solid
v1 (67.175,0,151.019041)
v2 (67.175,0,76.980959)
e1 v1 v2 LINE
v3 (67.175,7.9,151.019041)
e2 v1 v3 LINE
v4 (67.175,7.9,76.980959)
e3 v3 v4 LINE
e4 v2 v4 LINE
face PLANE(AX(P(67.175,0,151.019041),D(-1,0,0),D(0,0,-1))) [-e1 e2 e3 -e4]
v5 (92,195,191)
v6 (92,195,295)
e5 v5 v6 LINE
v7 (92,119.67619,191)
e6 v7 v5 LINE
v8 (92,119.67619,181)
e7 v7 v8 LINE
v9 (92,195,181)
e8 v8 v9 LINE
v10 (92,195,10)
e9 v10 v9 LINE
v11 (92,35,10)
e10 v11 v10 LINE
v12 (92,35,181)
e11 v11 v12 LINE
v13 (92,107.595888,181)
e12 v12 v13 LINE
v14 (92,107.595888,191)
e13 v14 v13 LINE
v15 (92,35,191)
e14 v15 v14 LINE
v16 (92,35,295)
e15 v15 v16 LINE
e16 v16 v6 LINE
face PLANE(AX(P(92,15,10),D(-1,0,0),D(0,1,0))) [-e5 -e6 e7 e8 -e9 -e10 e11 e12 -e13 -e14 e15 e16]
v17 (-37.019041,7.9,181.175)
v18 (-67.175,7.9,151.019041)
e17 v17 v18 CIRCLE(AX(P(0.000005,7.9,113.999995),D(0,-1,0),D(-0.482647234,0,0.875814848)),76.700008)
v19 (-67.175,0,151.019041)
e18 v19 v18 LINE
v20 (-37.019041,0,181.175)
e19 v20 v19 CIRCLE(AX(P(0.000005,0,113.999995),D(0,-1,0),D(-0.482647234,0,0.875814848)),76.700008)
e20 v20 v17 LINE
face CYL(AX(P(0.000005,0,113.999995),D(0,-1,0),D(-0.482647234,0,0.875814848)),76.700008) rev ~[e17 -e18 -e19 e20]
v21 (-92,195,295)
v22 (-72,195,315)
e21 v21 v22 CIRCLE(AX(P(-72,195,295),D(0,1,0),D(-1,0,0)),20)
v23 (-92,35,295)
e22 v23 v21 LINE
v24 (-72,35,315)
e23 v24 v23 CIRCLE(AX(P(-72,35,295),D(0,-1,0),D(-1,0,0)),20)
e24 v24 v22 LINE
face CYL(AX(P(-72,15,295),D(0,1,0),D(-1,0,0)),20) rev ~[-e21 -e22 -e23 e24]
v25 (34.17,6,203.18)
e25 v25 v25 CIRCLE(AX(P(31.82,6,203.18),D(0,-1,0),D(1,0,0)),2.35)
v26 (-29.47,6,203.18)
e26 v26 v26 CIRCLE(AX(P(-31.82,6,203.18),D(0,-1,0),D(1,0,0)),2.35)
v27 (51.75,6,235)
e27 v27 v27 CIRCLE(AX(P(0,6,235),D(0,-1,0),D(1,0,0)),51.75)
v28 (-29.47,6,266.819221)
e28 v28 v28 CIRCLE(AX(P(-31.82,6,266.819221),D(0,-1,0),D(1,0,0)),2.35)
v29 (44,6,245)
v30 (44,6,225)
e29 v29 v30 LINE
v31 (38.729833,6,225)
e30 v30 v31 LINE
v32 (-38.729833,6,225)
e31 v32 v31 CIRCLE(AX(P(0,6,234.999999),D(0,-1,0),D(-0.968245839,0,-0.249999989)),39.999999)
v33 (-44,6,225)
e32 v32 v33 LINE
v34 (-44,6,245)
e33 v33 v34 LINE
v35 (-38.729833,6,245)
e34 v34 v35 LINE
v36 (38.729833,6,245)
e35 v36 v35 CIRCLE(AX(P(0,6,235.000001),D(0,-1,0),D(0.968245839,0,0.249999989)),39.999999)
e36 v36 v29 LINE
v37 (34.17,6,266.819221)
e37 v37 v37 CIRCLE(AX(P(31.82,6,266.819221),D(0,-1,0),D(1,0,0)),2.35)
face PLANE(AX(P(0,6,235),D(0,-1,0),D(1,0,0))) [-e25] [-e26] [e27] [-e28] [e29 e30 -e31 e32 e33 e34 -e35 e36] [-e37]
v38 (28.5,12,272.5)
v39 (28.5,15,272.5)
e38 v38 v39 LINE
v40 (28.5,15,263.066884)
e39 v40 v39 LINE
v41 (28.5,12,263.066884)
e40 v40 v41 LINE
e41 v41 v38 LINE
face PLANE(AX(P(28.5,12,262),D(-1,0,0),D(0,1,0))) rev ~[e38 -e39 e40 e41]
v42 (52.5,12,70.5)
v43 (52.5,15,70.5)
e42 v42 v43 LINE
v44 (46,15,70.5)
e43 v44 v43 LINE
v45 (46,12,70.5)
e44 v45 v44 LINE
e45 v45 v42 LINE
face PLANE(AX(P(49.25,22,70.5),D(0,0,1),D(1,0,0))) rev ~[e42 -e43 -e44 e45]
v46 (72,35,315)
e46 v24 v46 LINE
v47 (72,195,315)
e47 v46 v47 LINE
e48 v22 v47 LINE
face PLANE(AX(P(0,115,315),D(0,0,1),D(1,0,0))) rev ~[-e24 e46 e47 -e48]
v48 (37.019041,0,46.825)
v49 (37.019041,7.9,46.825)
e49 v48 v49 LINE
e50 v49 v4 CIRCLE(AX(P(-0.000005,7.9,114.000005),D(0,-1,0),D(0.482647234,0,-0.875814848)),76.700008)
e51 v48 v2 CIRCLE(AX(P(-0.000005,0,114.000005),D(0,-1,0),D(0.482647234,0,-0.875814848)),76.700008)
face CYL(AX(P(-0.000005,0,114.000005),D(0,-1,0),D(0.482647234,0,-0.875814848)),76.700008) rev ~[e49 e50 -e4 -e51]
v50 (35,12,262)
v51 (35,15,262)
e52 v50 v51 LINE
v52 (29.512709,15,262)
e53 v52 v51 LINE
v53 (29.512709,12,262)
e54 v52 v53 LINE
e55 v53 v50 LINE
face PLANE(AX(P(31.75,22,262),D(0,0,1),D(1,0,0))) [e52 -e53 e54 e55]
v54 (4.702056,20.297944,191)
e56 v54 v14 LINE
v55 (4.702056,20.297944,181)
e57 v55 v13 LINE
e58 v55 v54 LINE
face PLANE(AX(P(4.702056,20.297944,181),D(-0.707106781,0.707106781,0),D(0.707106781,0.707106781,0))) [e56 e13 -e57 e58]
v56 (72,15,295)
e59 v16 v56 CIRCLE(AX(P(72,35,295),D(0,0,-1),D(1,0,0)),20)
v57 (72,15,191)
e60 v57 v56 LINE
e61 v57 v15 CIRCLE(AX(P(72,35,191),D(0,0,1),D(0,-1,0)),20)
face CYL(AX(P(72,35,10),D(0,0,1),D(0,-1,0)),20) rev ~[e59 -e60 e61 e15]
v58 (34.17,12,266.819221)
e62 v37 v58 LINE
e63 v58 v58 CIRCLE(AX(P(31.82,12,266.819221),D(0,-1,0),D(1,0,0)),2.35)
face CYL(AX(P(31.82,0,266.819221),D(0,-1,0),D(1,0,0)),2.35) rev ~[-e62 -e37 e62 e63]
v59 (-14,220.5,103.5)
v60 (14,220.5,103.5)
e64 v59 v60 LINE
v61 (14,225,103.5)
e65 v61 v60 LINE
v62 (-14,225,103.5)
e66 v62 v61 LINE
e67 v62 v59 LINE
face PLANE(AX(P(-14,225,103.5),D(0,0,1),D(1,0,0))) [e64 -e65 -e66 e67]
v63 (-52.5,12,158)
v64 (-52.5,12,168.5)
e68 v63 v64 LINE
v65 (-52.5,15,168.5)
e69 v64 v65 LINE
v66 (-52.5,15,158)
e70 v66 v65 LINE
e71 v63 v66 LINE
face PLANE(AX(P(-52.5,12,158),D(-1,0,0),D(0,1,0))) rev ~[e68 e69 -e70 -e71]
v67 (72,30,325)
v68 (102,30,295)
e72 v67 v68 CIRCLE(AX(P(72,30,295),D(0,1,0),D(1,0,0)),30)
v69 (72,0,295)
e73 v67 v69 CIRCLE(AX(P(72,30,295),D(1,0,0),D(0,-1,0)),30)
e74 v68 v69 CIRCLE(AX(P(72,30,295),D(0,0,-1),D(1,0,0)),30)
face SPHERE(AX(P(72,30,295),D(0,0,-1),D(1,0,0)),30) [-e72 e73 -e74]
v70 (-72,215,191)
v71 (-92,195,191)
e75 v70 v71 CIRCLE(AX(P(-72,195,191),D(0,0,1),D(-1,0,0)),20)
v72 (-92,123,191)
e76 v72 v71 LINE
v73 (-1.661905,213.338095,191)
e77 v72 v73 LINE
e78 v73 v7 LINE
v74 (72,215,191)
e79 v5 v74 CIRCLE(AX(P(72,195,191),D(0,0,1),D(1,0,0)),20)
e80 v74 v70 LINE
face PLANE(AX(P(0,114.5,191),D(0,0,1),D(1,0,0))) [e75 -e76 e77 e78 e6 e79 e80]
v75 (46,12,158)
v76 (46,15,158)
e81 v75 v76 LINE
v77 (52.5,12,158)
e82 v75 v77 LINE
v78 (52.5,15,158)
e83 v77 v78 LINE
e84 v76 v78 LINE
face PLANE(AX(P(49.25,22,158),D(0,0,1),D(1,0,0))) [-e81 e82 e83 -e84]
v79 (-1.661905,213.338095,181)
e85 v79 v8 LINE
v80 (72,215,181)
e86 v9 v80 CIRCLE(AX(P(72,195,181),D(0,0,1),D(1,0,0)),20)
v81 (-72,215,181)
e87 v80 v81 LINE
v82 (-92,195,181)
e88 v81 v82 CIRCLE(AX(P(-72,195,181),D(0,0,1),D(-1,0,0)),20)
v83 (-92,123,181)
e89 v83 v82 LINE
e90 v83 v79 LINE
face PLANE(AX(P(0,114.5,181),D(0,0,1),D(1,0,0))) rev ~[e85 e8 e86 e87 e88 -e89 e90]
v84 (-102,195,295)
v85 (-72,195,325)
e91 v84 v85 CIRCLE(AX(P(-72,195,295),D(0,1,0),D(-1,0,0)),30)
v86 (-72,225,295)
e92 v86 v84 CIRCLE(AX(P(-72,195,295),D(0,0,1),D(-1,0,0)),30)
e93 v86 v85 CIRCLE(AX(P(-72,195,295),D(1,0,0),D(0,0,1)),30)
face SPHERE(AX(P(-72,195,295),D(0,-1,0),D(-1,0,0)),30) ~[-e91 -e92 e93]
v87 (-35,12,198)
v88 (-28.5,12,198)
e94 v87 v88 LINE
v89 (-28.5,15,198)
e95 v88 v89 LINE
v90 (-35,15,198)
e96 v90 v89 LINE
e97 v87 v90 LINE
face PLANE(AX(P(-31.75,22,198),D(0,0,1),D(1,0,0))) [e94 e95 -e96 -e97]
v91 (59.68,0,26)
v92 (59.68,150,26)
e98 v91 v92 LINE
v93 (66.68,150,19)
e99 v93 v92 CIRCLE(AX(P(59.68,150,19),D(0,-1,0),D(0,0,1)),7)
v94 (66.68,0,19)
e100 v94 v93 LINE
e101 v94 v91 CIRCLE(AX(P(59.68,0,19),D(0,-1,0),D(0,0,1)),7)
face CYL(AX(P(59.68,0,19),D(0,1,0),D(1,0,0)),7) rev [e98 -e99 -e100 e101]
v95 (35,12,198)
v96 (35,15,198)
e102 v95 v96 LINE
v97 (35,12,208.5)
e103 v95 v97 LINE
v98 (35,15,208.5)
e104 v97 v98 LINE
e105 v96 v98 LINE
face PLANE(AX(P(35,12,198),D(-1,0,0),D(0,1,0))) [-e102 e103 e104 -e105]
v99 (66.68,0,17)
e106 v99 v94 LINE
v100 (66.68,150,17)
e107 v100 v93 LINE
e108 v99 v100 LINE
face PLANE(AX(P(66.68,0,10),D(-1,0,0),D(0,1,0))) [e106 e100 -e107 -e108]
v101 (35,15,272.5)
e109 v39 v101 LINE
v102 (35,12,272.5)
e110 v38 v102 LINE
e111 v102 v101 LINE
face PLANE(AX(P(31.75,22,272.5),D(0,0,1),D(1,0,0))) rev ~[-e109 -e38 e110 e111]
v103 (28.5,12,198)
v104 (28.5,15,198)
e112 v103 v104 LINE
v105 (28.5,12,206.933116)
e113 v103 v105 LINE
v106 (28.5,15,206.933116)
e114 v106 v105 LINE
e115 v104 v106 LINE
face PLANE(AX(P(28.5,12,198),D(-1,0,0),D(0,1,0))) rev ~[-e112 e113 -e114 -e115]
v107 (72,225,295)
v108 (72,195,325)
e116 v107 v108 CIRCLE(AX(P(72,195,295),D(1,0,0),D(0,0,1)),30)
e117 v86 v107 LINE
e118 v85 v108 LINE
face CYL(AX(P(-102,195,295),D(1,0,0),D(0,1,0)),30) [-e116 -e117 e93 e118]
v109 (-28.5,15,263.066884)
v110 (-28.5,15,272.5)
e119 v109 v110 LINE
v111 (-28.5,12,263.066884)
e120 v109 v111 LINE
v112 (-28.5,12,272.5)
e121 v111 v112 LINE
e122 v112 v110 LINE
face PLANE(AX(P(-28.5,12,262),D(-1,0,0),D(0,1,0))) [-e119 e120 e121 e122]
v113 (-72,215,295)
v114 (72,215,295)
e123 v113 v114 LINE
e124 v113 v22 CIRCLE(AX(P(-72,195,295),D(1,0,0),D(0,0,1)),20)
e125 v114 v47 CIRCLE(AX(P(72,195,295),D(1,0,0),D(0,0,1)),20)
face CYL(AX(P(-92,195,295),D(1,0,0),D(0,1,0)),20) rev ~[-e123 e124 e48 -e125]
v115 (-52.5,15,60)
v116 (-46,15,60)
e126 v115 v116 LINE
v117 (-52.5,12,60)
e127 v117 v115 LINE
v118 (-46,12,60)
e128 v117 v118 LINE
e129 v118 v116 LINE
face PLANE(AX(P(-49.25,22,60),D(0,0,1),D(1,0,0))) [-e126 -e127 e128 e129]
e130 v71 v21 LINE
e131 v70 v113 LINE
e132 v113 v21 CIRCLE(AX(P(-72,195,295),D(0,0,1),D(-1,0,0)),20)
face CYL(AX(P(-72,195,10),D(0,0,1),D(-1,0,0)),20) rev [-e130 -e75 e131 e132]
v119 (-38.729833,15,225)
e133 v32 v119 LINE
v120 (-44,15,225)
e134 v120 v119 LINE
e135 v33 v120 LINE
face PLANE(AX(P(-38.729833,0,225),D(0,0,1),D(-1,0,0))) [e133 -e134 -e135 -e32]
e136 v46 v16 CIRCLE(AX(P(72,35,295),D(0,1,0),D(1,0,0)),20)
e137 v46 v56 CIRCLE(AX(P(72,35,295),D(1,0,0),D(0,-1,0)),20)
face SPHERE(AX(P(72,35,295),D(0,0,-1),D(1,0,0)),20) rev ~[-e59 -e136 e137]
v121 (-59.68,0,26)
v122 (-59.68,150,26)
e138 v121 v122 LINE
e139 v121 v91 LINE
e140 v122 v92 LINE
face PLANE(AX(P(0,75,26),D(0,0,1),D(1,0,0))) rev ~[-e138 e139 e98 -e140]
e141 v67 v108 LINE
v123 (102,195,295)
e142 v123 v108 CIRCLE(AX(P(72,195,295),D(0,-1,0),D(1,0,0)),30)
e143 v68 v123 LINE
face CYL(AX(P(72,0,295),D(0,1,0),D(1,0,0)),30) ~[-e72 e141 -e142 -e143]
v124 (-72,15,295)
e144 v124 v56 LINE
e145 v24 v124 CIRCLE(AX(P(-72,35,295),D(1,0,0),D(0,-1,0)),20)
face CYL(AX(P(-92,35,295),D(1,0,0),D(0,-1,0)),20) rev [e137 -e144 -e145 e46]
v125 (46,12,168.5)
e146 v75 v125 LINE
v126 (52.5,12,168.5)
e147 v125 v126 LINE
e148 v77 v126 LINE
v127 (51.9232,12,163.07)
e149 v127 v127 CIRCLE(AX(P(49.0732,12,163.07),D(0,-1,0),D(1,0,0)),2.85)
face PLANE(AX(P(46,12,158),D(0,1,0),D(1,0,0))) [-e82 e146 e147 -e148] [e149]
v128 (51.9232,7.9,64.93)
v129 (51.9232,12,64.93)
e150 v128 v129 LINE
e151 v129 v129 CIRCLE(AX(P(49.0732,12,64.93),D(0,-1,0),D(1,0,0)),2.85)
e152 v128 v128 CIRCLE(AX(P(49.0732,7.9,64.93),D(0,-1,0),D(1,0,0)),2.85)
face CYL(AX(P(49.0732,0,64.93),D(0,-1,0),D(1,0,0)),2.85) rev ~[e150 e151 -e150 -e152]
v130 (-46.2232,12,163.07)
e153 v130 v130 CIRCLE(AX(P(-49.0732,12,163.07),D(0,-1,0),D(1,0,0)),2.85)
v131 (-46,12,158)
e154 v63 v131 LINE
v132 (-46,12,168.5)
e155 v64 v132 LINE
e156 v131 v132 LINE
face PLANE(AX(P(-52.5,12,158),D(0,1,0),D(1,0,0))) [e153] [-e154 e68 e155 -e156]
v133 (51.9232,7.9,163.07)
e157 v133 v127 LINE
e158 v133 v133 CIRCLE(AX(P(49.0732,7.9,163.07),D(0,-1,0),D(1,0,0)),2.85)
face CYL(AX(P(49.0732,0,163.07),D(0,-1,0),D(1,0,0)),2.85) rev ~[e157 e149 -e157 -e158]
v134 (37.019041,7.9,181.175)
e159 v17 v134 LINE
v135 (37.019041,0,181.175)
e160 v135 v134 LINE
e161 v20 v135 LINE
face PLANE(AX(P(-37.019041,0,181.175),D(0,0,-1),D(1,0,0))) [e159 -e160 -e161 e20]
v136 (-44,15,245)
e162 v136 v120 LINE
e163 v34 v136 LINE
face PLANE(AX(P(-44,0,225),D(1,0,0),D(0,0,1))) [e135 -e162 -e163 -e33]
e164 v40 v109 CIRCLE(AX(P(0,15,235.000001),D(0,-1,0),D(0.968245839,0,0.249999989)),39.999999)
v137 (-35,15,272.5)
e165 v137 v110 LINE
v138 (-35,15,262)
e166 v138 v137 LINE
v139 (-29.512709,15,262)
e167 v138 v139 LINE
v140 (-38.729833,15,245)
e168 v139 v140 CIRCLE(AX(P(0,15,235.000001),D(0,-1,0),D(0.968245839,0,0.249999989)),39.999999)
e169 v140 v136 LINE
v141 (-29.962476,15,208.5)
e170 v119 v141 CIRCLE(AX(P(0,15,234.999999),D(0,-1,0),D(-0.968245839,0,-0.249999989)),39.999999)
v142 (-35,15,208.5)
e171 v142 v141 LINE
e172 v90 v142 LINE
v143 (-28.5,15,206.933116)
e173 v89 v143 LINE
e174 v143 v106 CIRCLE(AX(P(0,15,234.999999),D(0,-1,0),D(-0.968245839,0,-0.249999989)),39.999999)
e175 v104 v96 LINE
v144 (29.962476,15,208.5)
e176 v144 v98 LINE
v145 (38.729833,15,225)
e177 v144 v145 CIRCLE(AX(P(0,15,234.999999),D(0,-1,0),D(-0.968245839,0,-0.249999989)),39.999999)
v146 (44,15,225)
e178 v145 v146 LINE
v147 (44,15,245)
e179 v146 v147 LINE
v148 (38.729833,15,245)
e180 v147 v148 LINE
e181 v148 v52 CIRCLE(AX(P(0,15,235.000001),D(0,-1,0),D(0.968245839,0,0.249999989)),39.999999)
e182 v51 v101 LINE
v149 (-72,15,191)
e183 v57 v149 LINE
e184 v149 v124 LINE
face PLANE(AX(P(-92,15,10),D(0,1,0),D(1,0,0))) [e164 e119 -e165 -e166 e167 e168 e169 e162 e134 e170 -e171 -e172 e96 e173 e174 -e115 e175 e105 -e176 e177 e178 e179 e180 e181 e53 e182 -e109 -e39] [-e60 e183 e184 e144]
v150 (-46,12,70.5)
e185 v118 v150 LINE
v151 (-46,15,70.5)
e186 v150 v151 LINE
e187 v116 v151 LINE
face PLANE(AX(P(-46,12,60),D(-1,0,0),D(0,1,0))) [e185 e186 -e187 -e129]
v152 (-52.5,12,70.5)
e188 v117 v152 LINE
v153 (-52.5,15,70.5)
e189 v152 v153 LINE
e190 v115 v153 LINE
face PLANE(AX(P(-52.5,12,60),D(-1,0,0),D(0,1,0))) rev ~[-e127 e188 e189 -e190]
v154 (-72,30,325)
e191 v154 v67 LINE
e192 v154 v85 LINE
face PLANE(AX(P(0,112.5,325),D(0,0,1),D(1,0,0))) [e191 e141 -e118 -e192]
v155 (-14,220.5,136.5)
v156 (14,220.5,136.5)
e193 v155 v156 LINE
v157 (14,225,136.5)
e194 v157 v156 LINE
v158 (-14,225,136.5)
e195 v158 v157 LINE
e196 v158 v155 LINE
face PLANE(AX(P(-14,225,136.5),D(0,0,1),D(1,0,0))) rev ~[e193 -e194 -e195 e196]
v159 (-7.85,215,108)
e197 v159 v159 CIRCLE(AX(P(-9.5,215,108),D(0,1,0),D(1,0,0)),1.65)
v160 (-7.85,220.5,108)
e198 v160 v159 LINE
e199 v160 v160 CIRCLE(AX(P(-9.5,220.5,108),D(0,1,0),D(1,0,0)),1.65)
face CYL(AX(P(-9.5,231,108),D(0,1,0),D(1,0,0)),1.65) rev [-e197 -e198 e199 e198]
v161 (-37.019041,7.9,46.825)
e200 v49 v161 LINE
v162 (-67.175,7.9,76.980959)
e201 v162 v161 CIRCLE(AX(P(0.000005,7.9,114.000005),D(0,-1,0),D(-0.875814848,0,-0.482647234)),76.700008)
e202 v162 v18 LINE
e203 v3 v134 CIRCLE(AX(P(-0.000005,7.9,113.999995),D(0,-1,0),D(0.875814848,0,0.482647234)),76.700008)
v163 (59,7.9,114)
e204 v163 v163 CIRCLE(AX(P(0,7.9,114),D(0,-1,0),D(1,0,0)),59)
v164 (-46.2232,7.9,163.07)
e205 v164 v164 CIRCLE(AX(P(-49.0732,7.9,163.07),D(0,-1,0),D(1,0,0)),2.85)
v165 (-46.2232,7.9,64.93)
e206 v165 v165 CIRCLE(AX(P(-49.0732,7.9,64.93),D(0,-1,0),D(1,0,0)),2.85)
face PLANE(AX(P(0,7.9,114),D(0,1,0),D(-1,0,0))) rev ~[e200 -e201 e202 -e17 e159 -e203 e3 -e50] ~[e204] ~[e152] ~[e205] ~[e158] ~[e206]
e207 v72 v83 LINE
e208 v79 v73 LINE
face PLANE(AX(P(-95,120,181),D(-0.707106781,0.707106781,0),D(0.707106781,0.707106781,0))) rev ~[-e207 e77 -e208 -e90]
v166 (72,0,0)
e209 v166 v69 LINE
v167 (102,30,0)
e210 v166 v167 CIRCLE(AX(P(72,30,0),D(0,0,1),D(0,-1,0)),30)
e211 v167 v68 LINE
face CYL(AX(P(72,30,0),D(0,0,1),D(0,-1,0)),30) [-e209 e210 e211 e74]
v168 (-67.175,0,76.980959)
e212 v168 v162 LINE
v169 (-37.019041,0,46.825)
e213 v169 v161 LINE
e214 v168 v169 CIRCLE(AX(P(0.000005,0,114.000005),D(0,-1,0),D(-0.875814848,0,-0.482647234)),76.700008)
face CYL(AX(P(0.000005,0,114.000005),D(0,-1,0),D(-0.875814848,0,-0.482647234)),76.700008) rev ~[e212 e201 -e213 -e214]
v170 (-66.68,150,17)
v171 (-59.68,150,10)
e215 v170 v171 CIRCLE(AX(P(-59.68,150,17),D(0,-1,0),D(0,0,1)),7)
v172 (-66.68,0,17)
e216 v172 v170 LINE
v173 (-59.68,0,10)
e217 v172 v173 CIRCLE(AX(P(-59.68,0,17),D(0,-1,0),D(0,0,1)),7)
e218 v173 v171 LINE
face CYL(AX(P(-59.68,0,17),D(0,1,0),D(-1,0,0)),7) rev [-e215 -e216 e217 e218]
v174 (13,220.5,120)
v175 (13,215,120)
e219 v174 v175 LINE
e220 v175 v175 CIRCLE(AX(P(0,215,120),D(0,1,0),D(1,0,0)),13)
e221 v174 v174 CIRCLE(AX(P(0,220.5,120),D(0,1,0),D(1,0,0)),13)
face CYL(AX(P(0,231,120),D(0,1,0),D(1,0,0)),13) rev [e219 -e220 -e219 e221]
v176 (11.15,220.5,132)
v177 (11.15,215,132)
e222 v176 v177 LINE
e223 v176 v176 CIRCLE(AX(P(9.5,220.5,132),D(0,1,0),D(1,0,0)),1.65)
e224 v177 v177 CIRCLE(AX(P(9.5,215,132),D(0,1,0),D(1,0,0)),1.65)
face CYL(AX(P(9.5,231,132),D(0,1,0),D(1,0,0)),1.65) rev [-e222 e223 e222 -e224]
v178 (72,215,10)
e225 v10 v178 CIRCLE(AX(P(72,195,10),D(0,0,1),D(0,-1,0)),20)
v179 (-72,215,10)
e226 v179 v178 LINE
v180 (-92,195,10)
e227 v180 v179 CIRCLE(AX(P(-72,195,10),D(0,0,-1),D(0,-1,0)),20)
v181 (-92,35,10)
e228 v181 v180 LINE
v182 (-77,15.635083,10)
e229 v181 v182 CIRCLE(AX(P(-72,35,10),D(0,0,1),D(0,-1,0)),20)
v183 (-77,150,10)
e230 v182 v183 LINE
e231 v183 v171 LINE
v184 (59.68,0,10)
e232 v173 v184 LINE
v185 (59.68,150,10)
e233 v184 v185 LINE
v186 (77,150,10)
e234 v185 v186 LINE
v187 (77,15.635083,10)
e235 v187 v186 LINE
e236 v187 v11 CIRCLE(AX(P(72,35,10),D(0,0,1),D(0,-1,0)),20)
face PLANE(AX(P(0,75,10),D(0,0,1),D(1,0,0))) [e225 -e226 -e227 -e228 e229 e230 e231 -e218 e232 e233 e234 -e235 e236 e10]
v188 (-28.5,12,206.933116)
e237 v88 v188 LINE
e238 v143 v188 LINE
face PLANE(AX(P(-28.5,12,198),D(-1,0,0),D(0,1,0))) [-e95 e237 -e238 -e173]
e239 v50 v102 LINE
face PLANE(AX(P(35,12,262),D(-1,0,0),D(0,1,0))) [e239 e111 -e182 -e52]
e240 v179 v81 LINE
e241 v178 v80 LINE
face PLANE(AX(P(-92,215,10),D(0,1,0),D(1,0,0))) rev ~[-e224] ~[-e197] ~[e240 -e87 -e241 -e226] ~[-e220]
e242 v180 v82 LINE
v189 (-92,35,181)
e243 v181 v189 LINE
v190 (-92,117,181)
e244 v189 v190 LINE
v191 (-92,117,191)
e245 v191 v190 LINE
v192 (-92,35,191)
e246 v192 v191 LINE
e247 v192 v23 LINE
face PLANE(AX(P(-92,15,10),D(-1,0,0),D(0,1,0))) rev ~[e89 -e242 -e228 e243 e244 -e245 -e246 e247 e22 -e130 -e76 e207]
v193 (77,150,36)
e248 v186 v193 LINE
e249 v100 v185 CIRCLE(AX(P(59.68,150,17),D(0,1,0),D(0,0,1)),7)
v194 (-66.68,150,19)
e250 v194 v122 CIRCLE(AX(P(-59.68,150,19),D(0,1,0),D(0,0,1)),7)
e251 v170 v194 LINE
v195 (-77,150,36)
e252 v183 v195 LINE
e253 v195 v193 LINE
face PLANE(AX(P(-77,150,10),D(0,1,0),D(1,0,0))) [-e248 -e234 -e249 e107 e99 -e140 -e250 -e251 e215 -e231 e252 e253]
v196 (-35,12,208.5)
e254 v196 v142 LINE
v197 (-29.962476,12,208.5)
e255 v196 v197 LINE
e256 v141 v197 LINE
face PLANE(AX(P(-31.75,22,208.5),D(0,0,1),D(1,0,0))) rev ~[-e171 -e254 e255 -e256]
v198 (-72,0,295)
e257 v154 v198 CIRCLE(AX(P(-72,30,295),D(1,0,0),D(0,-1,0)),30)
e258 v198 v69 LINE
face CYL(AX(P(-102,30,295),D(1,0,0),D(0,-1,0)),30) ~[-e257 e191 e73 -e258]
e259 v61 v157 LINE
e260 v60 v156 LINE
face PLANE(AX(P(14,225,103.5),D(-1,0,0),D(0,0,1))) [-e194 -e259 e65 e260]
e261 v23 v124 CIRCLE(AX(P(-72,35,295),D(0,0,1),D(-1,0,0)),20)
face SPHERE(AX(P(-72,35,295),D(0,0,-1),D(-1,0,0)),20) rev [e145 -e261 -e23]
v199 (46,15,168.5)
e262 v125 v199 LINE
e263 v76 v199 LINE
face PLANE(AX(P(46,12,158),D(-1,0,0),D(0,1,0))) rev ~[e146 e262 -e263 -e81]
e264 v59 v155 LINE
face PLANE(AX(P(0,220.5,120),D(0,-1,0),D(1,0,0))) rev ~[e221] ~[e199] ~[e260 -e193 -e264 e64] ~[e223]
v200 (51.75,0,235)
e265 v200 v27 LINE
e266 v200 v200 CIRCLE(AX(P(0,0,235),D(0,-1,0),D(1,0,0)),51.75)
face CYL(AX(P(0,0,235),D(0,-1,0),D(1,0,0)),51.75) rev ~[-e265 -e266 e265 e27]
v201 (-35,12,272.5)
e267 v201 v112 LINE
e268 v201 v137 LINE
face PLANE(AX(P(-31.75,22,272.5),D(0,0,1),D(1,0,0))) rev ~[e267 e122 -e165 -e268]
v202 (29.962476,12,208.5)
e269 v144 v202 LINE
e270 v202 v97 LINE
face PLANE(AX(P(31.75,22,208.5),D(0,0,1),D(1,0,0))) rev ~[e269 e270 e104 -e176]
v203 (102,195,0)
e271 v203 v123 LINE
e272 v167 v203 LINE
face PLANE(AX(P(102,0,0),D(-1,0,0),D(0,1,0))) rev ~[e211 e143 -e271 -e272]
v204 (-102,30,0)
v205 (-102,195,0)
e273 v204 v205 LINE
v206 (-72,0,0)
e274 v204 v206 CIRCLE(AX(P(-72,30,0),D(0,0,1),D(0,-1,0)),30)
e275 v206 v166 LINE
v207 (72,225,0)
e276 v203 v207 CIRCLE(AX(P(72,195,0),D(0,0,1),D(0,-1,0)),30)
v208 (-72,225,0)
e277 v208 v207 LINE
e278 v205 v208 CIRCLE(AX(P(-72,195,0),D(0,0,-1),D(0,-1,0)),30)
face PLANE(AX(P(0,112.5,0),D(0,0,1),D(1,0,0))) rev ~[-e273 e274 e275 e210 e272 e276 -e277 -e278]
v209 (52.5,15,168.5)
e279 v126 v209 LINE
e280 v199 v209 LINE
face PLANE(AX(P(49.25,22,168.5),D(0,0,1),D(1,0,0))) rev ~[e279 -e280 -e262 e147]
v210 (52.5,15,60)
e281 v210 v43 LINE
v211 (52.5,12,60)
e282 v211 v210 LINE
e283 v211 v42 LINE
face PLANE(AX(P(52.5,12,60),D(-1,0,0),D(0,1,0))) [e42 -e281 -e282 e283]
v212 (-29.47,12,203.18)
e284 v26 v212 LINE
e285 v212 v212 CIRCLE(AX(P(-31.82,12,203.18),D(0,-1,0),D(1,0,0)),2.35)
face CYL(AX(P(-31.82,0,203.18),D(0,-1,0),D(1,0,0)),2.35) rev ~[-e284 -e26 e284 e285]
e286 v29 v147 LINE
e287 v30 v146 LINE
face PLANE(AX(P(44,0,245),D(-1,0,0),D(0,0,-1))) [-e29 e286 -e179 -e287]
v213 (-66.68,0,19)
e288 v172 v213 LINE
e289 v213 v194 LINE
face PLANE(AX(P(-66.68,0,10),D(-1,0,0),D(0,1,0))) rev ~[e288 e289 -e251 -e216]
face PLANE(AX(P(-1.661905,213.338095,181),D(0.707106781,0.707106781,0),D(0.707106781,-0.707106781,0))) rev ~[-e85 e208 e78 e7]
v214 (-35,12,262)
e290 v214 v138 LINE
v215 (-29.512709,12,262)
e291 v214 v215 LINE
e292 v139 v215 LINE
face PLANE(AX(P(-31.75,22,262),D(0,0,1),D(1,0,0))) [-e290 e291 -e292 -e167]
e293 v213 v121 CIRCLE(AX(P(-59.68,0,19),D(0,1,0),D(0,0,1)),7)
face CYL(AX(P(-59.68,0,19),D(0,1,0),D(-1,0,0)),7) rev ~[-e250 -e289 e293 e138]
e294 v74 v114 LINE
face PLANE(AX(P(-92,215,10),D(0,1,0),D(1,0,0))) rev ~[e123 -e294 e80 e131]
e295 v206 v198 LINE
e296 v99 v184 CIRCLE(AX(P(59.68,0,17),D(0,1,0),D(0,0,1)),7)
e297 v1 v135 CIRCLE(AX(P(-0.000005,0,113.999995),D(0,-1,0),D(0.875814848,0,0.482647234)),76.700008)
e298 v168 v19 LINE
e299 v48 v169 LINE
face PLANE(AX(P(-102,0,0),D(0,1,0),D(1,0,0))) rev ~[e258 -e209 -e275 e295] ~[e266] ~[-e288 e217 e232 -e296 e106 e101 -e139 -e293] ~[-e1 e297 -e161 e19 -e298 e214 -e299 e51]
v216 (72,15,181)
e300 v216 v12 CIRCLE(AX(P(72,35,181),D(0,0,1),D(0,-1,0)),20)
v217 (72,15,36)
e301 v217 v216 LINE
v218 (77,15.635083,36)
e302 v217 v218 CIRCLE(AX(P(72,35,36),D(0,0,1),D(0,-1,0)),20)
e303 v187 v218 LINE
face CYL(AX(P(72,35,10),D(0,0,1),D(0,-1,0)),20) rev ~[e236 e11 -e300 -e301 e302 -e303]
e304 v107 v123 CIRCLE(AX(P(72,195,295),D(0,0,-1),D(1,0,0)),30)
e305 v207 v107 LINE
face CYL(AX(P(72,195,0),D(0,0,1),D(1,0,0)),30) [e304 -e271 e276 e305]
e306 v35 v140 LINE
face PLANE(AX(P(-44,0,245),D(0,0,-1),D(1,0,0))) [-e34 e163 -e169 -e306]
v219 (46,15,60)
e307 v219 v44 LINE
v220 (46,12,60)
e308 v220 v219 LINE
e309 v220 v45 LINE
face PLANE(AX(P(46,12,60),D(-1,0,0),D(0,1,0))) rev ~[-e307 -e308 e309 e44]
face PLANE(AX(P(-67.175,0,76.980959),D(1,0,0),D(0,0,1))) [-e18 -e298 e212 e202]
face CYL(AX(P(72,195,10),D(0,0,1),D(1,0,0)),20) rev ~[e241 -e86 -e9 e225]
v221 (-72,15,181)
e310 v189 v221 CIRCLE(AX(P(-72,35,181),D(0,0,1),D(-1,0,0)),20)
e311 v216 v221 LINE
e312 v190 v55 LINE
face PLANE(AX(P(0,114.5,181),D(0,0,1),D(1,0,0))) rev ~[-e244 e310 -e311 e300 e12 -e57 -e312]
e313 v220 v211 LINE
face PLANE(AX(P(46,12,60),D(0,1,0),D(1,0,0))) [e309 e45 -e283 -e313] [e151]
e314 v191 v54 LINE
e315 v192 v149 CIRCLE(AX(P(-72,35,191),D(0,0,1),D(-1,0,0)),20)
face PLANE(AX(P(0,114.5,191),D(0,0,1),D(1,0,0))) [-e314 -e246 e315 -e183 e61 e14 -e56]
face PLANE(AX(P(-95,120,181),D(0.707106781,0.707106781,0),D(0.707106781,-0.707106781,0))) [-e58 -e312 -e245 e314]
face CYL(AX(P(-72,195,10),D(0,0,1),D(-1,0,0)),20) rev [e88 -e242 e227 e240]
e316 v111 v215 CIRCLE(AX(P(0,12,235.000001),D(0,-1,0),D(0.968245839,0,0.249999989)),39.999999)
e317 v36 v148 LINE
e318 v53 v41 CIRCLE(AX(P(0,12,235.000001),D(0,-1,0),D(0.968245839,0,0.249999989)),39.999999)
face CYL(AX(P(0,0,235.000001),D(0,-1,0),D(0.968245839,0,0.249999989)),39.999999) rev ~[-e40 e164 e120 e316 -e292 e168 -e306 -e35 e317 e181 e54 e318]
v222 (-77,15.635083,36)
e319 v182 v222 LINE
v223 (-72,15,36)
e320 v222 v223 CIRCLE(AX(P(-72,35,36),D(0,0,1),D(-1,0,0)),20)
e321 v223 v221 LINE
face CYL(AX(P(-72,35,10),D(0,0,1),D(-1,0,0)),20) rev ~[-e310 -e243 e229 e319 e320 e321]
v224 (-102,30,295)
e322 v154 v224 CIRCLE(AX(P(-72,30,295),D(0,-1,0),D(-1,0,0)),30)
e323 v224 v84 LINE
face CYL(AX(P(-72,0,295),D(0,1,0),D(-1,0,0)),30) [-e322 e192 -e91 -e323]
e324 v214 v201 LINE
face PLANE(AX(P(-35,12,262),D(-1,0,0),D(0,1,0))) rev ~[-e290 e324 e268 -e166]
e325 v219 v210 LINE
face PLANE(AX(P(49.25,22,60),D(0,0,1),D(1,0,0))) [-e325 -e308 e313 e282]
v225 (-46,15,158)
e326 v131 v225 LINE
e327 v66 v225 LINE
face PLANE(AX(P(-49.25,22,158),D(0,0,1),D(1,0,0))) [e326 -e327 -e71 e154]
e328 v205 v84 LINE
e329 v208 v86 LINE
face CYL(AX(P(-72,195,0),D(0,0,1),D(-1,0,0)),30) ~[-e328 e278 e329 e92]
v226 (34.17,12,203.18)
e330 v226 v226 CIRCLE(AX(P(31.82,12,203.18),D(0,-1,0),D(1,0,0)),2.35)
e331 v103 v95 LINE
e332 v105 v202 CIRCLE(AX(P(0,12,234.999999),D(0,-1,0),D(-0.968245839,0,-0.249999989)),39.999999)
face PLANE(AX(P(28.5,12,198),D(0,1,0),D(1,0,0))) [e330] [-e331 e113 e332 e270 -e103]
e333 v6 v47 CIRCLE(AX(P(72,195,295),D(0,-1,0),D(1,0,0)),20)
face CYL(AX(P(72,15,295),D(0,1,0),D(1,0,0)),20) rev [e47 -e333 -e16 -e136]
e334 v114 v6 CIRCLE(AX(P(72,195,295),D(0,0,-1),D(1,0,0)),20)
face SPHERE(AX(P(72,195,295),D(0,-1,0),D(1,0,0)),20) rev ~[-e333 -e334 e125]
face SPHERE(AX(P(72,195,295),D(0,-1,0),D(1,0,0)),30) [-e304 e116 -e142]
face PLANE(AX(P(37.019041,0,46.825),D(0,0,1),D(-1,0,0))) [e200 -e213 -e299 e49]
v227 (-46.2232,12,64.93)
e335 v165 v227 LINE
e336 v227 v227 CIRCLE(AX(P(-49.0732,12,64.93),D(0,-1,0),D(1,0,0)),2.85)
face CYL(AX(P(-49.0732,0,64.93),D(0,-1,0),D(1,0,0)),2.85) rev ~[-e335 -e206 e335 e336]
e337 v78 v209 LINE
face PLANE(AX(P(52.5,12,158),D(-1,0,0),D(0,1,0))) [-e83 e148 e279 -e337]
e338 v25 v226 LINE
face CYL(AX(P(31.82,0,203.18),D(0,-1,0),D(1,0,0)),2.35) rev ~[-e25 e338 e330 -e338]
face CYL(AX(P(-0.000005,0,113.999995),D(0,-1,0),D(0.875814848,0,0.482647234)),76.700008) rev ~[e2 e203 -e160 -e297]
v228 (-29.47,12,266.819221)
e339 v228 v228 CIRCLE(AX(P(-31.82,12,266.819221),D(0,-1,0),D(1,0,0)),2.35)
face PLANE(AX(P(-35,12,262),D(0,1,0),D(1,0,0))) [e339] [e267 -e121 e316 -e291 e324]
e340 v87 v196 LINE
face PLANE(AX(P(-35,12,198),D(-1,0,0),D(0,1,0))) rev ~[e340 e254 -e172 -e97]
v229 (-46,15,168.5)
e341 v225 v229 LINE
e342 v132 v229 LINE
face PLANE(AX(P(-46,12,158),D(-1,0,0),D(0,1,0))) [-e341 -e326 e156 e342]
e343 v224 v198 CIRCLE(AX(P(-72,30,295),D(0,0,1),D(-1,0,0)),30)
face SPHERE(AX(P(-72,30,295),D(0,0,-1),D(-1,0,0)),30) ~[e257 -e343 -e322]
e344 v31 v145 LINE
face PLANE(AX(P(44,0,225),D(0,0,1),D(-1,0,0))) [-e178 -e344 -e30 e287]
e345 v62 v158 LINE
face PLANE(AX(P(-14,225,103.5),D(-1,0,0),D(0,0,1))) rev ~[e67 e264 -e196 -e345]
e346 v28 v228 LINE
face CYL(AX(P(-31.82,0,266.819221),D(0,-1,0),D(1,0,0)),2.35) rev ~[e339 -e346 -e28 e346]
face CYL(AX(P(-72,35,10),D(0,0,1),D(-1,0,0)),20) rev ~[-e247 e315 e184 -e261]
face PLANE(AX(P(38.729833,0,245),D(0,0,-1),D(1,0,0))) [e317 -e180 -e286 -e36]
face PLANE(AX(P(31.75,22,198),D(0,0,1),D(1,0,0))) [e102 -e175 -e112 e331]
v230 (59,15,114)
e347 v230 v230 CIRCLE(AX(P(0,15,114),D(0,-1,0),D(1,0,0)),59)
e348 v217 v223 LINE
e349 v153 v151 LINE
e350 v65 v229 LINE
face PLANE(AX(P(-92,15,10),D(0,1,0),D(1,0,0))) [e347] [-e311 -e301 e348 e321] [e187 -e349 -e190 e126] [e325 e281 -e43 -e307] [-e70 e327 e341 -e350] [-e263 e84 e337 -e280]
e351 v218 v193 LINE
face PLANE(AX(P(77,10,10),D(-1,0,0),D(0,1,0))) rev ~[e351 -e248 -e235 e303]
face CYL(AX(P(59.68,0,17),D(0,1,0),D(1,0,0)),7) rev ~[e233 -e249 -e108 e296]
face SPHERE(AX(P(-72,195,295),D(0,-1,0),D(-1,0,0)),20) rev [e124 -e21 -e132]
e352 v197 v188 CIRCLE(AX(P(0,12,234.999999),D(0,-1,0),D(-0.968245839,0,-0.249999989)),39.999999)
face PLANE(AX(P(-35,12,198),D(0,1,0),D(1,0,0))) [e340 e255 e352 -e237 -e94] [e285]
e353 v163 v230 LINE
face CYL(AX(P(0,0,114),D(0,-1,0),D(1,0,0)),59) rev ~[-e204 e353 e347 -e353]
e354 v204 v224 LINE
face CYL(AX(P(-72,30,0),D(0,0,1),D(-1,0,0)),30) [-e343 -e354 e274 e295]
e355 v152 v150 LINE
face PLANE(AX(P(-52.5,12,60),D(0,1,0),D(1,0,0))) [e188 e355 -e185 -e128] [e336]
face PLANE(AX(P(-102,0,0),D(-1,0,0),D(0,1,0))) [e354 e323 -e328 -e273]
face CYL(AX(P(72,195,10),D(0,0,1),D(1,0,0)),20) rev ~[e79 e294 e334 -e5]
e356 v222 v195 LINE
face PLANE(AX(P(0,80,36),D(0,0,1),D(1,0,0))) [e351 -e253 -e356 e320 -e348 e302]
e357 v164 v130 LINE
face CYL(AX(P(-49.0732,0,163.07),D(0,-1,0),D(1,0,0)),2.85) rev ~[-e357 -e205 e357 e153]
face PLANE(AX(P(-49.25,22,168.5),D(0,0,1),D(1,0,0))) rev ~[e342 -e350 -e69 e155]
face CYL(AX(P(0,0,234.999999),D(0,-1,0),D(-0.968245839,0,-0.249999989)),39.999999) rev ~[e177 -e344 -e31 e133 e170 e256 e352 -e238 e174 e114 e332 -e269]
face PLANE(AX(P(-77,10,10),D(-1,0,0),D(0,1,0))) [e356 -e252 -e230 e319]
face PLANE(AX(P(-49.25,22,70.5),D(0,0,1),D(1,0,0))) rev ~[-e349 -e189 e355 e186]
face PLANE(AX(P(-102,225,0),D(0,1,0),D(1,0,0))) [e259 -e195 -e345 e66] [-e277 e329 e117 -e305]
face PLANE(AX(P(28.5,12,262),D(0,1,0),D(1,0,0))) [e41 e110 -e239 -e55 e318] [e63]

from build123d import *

# Parameters (mm, degrees)
BOX008_W               = 6.5
BOX008_H               = 20
BOX008_DEPTH           = 10.5
BOX007_W               = 6.5
BOX007_H               = 20
BOX007_DEPTH           = 10.5
BOX009_W               = 6.5
BOX009_H               = 20
BOX009_DEPTH           = 10.5
BOX010_W               = 6.5
BOX010_H               = 20
BOX010_DEPTH           = 10.5
BOX011_W               = 6.5
BOX011_H               = 20
BOX011_DEPTH           = 10.5
BOX013_W               = 6.5
BOX013_H               = 20
BOX013_DEPTH           = 10.5
BOX012_W               = 6.5
BOX012_H               = 20
BOX012_DEPTH           = 10.5
BOX006_W               = 6.5
BOX006_H               = 20
BOX006_DEPTH           = 10.5
SKETCH008_W            = 28
SKETCH008_H            = 33
EXTRUDE001_DEPTH       = 4.5
SKETCH007_R            = 13
SKETCH007_R_2          = 1.65
EXTRUDE_DEPTH          = 40
BOX002_W               = 133.36
BOX002_H               = 150
BOX002_DEPTH           = 16
FILLET002_R            = 7
BOX003_W               = 154
BOX003_H               = 140
BOX003_DEPTH           = 26
SKETCH004_R            = 51.75
PAD003_DEPTH           = 6
PAD004_DEPTH           = 35
SKETCH006_R            = 2.35
PAD005_DEPTH           = 35
PAD_DEPTH              = 7.9
SKETCH002_R            = 59
PAD001_DEPTH           = 25
SKETCH003_R            = 2.85
PAD002_DEPTH           = 34
BOX_W                  = 184
BOX_H                  = 200
BOX_DEPTH              = 305
FILLET_R               = 20
BOX001_W               = 204
BOX001_H               = 225
BOX001_DEPTH           = 325
FILLET001_R            = 30
BOX004_W               = 141
BOX004_H               = 132
BOX004_DEPTH           = 10
BOX004_PLACEMENT_ANGLE = 45
BOX005_W               = 184
BOX005_H               = 203
BOX005_DEPTH           = 10


with BuildPart() as cubo006:
    # Box008 → Box008 (new body)
    with BuildSketch(Plane(origin=(-52.5, 0, 60), x_dir=(1, 0, 0), z_dir=(0, 0, 1))):
        with Locations((3.25, 10)):
            Rectangle(BOX008_W, BOX008_H)
    extrude(amount=BOX008_DEPTH)


with BuildPart() as cubo005:
    # Box007 → Box007 (new body)
    with BuildSketch(Plane(origin=(46, 0, 158), x_dir=(1, 0, 0), z_dir=(0, 0, 1))):
        with Locations((3.25, 10)):
            Rectangle(BOX007_W, BOX007_H)
    extrude(amount=BOX007_DEPTH)


with BuildPart() as cubo007:
    # Box009 → Box009 (new body)
    with BuildSketch(Plane(origin=(-52.5, 0, 158), x_dir=(1, 0, 0), z_dir=(0, 0, 1))):
        with Locations((3.25, 10)):
            Rectangle(BOX009_W, BOX009_H)
    extrude(amount=BOX009_DEPTH)


with BuildPart() as cubo008:
    # Box010 → Box010 (new body)
    with BuildSketch(Plane(origin=(28.5, 0, 198), x_dir=(1, 0, 0), z_dir=(0, 0, 1))):
        with Locations((3.25, 10)):
            Rectangle(BOX010_W, BOX010_H)
    extrude(amount=BOX010_DEPTH)


with BuildPart() as cubo009:
    # Box011 → Box011 (new body)
    with BuildSketch(Plane(origin=(28.5, 0, 262), x_dir=(1, 0, 0), z_dir=(0, 0, 1))):
        with Locations((3.25, 10)):
            Rectangle(BOX011_W, BOX011_H)
    extrude(amount=BOX011_DEPTH)


with BuildPart() as cubo011:
    # Box013 → Box013 (new body)
    with BuildSketch(Plane(origin=(-35, 0, 198), x_dir=(1, 0, 0), z_dir=(0, 0, 1))):
        with Locations((3.25, 10)):
            Rectangle(BOX013_W, BOX013_H)
    extrude(amount=BOX013_DEPTH)


with BuildPart() as cubo010:
    # Box012 → Box012 (new body)
    with BuildSketch(Plane(origin=(-35, 0, 262), x_dir=(1, 0, 0), z_dir=(0, 0, 1))):
        with Locations((3.25, 10)):
            Rectangle(BOX012_W, BOX012_H)
    extrude(amount=BOX012_DEPTH)


with BuildPart() as tuercas:
    # Box006 → Box006 (new body)
    with BuildSketch(Plane(origin=(46, 0, 60), x_dir=(1, 0, 0), z_dir=(0, 0, 1))):
        with Locations((3.25, 10)):
            Rectangle(BOX006_W, BOX006_H)
    extrude(amount=BOX006_DEPTH)

    # Fusion003: union Cubo006, Cubo005, Cubo007, Cubo008, Cubo009, Cubo011, Cubo010
    add(cubo006.part)
    add(cubo005.part)
    add(cubo007.part)
    add(cubo008.part)
    add(cubo009.part)
    add(cubo011.part)
    add(cubo010.part)


with BuildPart() as tuercas_1:
    # Fusion003 placement: moved
    add(tuercas.part.moved(Location((0, 12, 0))))


with BuildPart() as extrude001:
    # Sketch008 → Extrude001 (new body)
    with BuildSketch(Plane.XZ):
        with Locations((0, 120)):
            Rectangle(SKETCH008_W, SKETCH008_H)
    extrude(amount=EXTRUDE001_DEPTH)


with BuildPart() as extrude001_1:
    # Extrude001 placement: moved
    add(extrude001.part.moved(Location((0, 220, 0))))


with BuildPart() as conector:
    # Sketch007 → Extrude (new body)
    with BuildSketch(Plane.XZ):
        with Locations((0, 120)):
            Circle(SKETCH007_R)
        with Locations((9.5, 132)):
            Circle(SKETCH007_R_2)
        with Locations((-9.5, 108)):
            Circle(SKETCH007_R_2)
    extrude(amount=EXTRUDE_DEPTH)


with BuildPart() as conector_1:
    # Extrude placement: moved
    add(conector.part.moved(Location((0, 226, 0))))

    # Fusion: union Extrude001
    add(extrude001_1.part)


with BuildPart() as conector_2:
    # Fusion placement: moved
    add(conector_1.part.moved(Location((0, 5, 0))))


with BuildPart() as fusion002:
    # Box002 → Box002 (new body)
    with BuildSketch(Plane(origin=(-66.68, 0, 10), x_dir=(1, 0, 0), z_dir=(0, 0, 1))):
        with Locations((66.68, 75)):
            Rectangle(BOX002_W, BOX002_H)
    extrude(amount=BOX002_DEPTH)

    # Fillet002
    fillet002_edges = [fusion002.edges().sort_by_distance(p)[0] for p in [
        (-66.68, 75, 26),
        (-66.68, 75, 10),
        (66.68, 75, 26),
        (66.68, 75, 10),
    ]]
    fillet(fillet002_edges, radius=FILLET002_R)

    # Fusion002: union Conector
    add(conector_2.part)


with BuildPart() as puerto:
    # Box003 → Box003 (new body)
    with BuildSketch(Plane(origin=(-77, 10, 10), x_dir=(1, 0, 0), z_dir=(0, 0, 1))):
        with Locations((77, 70)):
            Rectangle(BOX003_W, BOX003_H)
    extrude(amount=BOX003_DEPTH)


with BuildPart() as tweeter:
    # Sketch004 → Pad003 (new body)
    with BuildSketch(Plane.XZ):
        with Locations((0, 235)):
            Circle(SKETCH004_R)
    extrude(amount=-PAD003_DEPTH)

    # Sketch005 → Pad004 (join)
    with BuildSketch(Plane.XZ):
        with BuildLine():
            Line((-38.729833, 225), (-44, 225))
            Line((-44, 225), (-44, 245))
            Line((-44, 245), (-38.729833, 245))
            ThreePointArc((38.729833, 245), (0, 275), (-38.729833, 245))
            Line((38.729833, 245), (44, 245))
            Line((44, 245), (44, 225))
            Line((44, 225), (38.729833, 225))
            ThreePointArc((-38.729833, 225), (0, 195), (38.729833, 225))
        make_face()
    extrude(amount=-PAD004_DEPTH)

    # Sketch006 → Pad005 (join)
    with BuildSketch(Plane.XZ):
        with Locations((-31.82, 266.819221)):
            Circle(SKETCH006_R)
        with Locations((31.82, 266.819221)):
            Circle(SKETCH006_R)
        with Locations((31.82, 203.18)):
            Circle(SKETCH006_R)
        with Locations((-31.82, 203.18)):
            Circle(SKETCH006_R)
    extrude(amount=-PAD005_DEPTH)


with BuildPart() as woofer:
    # Sketch → Pad (new body)
    with BuildSketch(Plane.XZ):
        with BuildLine():
            Line((-37.019041, 181.175), (37.019041, 181.175))
            ThreePointArc((67.175, 151.019041), (54.23509, 168.23509), (37.019041, 181.175))
            Line((67.175, 151.019041), (67.175, 76.980959))
            ThreePointArc((37.019041, 46.825), (54.23509, 59.76491), (67.175, 76.980959))
            Line((37.019041, 46.825), (-37.019041, 46.825))
            ThreePointArc((-67.175, 76.980959), (-54.23509, 59.76491), (-37.019041, 46.825))
            Line((-67.175, 76.980959), (-67.175, 151.019041))
            ThreePointArc((-37.019041, 181.175), (-54.23509, 168.23509), (-67.175, 151.019041))
        make_face()
    extrude(amount=-PAD_DEPTH)

    # Sketch002 → Pad001 (join)
    with BuildSketch(Plane.XZ):
        with Locations((0, 114)):
            Circle(SKETCH002_R)
    extrude(amount=-PAD001_DEPTH)

    # Sketch003 → Pad002 (join)
    with BuildSketch(Plane.XZ):
        with Locations((-49.0732, 163.07)):
            Circle(SKETCH003_R)
        with Locations((49.0732, 163.07)):
            Circle(SKETCH003_R)
        with Locations((49.0732, 64.93)):
            Circle(SKETCH003_R)
        with Locations((-49.0732, 64.93)):
            Circle(SKETCH003_R)
    extrude(amount=-PAD002_DEPTH)


with BuildPart() as volumen_interior:
    # Box → Box (new body)
    with BuildSketch(Plane(origin=(-92, 15, 10), x_dir=(1, 0, 0), z_dir=(0, 0, 1))):
        with Locations((92, 100)):
            Rectangle(BOX_W, BOX_H)
    extrude(amount=BOX_DEPTH)

    # Fillet
    fillet_edges = [volumen_interior.edges().sort_by_distance(p)[0] for p in [
        (-92, 15, 162.5),
        (-92, 115, 315),
        (-92, 215, 162.5),
        (92, 15, 162.5),
        (92, 115, 315),
        (92, 215, 162.5),
        (0, 15, 315),
        (0, 215, 315),
    ]]
    fillet(fillet_edges, radius=FILLET_R)


with BuildPart() as cut002:
    # Box001 → Box001 (new body)
    with BuildSketch(Plane(origin=(-102, 0, 0), x_dir=(1, 0, 0), z_dir=(0, 0, 1))):
        with Locations((102, 112.5)):
            Rectangle(BOX001_W, BOX001_H)
    extrude(amount=BOX001_DEPTH)

    # Fillet001
    fillet001_edges = [cut002.edges().sort_by_distance(p)[0] for p in [
        (-102, 0, 162.5),
        (-102, 112.5, 325),
        (-102, 225, 162.5),
        (102, 0, 162.5),
        (102, 112.5, 325),
        (102, 225, 162.5),
        (0, 0, 325),
        (0, 225, 325),
    ]]
    fillet(fillet001_edges, radius=FILLET001_R)

    # Cut: cut Volumen interior
    add(volumen_interior.part, mode=Mode.SUBTRACT)

    # Cut001: cut Woofer
    add(woofer.part, mode=Mode.SUBTRACT)

    # Cut002: cut Tweeter
    add(tweeter.part, mode=Mode.SUBTRACT)


with BuildPart() as cubo002:
    # Box004 → Box004 (new body)
    with BuildSketch(Plane.XY):
        with Locations((70.5, 66)):
            Rectangle(BOX004_W, BOX004_H)
    extrude(amount=BOX004_DEPTH)


with BuildPart() as cubo002_1:
    # Box004 placement: moved
    add(cubo002.part.moved(Location((-95, 120, 0))).rotate(Axis((-95, 120, 0), (0, 0, -1)), BOX004_PLACEMENT_ANGLE))


with BuildPart() as cut005:
    # Box005 → Box005 (new body)
    with BuildSketch(Plane(origin=(-92, 13, 0), x_dir=(1, 0, 0), z_dir=(0, 0, 1))):
        with Locations((92, 101.5)):
            Rectangle(BOX005_W, BOX005_H)
    extrude(amount=BOX005_DEPTH)

    # Cut003: cut Cubo002
    add(cubo002_1.part, mode=Mode.SUBTRACT)


with BuildPart() as cut005_1:
    # Cut003 placement: moved
    add(cut005.part.moved(Location((0, 0, 181))))

    # Fusion001: union Puerto, Cut002
    add(puerto.part)
    add(cut002.part)

    # Cut004: cut Fusion002
    add(fusion002.part, mode=Mode.SUBTRACT)

    # Cut005: cut Tuercas
    add(tuercas_1.part, mode=Mode.SUBTRACT)


solid = cut005_1.part
